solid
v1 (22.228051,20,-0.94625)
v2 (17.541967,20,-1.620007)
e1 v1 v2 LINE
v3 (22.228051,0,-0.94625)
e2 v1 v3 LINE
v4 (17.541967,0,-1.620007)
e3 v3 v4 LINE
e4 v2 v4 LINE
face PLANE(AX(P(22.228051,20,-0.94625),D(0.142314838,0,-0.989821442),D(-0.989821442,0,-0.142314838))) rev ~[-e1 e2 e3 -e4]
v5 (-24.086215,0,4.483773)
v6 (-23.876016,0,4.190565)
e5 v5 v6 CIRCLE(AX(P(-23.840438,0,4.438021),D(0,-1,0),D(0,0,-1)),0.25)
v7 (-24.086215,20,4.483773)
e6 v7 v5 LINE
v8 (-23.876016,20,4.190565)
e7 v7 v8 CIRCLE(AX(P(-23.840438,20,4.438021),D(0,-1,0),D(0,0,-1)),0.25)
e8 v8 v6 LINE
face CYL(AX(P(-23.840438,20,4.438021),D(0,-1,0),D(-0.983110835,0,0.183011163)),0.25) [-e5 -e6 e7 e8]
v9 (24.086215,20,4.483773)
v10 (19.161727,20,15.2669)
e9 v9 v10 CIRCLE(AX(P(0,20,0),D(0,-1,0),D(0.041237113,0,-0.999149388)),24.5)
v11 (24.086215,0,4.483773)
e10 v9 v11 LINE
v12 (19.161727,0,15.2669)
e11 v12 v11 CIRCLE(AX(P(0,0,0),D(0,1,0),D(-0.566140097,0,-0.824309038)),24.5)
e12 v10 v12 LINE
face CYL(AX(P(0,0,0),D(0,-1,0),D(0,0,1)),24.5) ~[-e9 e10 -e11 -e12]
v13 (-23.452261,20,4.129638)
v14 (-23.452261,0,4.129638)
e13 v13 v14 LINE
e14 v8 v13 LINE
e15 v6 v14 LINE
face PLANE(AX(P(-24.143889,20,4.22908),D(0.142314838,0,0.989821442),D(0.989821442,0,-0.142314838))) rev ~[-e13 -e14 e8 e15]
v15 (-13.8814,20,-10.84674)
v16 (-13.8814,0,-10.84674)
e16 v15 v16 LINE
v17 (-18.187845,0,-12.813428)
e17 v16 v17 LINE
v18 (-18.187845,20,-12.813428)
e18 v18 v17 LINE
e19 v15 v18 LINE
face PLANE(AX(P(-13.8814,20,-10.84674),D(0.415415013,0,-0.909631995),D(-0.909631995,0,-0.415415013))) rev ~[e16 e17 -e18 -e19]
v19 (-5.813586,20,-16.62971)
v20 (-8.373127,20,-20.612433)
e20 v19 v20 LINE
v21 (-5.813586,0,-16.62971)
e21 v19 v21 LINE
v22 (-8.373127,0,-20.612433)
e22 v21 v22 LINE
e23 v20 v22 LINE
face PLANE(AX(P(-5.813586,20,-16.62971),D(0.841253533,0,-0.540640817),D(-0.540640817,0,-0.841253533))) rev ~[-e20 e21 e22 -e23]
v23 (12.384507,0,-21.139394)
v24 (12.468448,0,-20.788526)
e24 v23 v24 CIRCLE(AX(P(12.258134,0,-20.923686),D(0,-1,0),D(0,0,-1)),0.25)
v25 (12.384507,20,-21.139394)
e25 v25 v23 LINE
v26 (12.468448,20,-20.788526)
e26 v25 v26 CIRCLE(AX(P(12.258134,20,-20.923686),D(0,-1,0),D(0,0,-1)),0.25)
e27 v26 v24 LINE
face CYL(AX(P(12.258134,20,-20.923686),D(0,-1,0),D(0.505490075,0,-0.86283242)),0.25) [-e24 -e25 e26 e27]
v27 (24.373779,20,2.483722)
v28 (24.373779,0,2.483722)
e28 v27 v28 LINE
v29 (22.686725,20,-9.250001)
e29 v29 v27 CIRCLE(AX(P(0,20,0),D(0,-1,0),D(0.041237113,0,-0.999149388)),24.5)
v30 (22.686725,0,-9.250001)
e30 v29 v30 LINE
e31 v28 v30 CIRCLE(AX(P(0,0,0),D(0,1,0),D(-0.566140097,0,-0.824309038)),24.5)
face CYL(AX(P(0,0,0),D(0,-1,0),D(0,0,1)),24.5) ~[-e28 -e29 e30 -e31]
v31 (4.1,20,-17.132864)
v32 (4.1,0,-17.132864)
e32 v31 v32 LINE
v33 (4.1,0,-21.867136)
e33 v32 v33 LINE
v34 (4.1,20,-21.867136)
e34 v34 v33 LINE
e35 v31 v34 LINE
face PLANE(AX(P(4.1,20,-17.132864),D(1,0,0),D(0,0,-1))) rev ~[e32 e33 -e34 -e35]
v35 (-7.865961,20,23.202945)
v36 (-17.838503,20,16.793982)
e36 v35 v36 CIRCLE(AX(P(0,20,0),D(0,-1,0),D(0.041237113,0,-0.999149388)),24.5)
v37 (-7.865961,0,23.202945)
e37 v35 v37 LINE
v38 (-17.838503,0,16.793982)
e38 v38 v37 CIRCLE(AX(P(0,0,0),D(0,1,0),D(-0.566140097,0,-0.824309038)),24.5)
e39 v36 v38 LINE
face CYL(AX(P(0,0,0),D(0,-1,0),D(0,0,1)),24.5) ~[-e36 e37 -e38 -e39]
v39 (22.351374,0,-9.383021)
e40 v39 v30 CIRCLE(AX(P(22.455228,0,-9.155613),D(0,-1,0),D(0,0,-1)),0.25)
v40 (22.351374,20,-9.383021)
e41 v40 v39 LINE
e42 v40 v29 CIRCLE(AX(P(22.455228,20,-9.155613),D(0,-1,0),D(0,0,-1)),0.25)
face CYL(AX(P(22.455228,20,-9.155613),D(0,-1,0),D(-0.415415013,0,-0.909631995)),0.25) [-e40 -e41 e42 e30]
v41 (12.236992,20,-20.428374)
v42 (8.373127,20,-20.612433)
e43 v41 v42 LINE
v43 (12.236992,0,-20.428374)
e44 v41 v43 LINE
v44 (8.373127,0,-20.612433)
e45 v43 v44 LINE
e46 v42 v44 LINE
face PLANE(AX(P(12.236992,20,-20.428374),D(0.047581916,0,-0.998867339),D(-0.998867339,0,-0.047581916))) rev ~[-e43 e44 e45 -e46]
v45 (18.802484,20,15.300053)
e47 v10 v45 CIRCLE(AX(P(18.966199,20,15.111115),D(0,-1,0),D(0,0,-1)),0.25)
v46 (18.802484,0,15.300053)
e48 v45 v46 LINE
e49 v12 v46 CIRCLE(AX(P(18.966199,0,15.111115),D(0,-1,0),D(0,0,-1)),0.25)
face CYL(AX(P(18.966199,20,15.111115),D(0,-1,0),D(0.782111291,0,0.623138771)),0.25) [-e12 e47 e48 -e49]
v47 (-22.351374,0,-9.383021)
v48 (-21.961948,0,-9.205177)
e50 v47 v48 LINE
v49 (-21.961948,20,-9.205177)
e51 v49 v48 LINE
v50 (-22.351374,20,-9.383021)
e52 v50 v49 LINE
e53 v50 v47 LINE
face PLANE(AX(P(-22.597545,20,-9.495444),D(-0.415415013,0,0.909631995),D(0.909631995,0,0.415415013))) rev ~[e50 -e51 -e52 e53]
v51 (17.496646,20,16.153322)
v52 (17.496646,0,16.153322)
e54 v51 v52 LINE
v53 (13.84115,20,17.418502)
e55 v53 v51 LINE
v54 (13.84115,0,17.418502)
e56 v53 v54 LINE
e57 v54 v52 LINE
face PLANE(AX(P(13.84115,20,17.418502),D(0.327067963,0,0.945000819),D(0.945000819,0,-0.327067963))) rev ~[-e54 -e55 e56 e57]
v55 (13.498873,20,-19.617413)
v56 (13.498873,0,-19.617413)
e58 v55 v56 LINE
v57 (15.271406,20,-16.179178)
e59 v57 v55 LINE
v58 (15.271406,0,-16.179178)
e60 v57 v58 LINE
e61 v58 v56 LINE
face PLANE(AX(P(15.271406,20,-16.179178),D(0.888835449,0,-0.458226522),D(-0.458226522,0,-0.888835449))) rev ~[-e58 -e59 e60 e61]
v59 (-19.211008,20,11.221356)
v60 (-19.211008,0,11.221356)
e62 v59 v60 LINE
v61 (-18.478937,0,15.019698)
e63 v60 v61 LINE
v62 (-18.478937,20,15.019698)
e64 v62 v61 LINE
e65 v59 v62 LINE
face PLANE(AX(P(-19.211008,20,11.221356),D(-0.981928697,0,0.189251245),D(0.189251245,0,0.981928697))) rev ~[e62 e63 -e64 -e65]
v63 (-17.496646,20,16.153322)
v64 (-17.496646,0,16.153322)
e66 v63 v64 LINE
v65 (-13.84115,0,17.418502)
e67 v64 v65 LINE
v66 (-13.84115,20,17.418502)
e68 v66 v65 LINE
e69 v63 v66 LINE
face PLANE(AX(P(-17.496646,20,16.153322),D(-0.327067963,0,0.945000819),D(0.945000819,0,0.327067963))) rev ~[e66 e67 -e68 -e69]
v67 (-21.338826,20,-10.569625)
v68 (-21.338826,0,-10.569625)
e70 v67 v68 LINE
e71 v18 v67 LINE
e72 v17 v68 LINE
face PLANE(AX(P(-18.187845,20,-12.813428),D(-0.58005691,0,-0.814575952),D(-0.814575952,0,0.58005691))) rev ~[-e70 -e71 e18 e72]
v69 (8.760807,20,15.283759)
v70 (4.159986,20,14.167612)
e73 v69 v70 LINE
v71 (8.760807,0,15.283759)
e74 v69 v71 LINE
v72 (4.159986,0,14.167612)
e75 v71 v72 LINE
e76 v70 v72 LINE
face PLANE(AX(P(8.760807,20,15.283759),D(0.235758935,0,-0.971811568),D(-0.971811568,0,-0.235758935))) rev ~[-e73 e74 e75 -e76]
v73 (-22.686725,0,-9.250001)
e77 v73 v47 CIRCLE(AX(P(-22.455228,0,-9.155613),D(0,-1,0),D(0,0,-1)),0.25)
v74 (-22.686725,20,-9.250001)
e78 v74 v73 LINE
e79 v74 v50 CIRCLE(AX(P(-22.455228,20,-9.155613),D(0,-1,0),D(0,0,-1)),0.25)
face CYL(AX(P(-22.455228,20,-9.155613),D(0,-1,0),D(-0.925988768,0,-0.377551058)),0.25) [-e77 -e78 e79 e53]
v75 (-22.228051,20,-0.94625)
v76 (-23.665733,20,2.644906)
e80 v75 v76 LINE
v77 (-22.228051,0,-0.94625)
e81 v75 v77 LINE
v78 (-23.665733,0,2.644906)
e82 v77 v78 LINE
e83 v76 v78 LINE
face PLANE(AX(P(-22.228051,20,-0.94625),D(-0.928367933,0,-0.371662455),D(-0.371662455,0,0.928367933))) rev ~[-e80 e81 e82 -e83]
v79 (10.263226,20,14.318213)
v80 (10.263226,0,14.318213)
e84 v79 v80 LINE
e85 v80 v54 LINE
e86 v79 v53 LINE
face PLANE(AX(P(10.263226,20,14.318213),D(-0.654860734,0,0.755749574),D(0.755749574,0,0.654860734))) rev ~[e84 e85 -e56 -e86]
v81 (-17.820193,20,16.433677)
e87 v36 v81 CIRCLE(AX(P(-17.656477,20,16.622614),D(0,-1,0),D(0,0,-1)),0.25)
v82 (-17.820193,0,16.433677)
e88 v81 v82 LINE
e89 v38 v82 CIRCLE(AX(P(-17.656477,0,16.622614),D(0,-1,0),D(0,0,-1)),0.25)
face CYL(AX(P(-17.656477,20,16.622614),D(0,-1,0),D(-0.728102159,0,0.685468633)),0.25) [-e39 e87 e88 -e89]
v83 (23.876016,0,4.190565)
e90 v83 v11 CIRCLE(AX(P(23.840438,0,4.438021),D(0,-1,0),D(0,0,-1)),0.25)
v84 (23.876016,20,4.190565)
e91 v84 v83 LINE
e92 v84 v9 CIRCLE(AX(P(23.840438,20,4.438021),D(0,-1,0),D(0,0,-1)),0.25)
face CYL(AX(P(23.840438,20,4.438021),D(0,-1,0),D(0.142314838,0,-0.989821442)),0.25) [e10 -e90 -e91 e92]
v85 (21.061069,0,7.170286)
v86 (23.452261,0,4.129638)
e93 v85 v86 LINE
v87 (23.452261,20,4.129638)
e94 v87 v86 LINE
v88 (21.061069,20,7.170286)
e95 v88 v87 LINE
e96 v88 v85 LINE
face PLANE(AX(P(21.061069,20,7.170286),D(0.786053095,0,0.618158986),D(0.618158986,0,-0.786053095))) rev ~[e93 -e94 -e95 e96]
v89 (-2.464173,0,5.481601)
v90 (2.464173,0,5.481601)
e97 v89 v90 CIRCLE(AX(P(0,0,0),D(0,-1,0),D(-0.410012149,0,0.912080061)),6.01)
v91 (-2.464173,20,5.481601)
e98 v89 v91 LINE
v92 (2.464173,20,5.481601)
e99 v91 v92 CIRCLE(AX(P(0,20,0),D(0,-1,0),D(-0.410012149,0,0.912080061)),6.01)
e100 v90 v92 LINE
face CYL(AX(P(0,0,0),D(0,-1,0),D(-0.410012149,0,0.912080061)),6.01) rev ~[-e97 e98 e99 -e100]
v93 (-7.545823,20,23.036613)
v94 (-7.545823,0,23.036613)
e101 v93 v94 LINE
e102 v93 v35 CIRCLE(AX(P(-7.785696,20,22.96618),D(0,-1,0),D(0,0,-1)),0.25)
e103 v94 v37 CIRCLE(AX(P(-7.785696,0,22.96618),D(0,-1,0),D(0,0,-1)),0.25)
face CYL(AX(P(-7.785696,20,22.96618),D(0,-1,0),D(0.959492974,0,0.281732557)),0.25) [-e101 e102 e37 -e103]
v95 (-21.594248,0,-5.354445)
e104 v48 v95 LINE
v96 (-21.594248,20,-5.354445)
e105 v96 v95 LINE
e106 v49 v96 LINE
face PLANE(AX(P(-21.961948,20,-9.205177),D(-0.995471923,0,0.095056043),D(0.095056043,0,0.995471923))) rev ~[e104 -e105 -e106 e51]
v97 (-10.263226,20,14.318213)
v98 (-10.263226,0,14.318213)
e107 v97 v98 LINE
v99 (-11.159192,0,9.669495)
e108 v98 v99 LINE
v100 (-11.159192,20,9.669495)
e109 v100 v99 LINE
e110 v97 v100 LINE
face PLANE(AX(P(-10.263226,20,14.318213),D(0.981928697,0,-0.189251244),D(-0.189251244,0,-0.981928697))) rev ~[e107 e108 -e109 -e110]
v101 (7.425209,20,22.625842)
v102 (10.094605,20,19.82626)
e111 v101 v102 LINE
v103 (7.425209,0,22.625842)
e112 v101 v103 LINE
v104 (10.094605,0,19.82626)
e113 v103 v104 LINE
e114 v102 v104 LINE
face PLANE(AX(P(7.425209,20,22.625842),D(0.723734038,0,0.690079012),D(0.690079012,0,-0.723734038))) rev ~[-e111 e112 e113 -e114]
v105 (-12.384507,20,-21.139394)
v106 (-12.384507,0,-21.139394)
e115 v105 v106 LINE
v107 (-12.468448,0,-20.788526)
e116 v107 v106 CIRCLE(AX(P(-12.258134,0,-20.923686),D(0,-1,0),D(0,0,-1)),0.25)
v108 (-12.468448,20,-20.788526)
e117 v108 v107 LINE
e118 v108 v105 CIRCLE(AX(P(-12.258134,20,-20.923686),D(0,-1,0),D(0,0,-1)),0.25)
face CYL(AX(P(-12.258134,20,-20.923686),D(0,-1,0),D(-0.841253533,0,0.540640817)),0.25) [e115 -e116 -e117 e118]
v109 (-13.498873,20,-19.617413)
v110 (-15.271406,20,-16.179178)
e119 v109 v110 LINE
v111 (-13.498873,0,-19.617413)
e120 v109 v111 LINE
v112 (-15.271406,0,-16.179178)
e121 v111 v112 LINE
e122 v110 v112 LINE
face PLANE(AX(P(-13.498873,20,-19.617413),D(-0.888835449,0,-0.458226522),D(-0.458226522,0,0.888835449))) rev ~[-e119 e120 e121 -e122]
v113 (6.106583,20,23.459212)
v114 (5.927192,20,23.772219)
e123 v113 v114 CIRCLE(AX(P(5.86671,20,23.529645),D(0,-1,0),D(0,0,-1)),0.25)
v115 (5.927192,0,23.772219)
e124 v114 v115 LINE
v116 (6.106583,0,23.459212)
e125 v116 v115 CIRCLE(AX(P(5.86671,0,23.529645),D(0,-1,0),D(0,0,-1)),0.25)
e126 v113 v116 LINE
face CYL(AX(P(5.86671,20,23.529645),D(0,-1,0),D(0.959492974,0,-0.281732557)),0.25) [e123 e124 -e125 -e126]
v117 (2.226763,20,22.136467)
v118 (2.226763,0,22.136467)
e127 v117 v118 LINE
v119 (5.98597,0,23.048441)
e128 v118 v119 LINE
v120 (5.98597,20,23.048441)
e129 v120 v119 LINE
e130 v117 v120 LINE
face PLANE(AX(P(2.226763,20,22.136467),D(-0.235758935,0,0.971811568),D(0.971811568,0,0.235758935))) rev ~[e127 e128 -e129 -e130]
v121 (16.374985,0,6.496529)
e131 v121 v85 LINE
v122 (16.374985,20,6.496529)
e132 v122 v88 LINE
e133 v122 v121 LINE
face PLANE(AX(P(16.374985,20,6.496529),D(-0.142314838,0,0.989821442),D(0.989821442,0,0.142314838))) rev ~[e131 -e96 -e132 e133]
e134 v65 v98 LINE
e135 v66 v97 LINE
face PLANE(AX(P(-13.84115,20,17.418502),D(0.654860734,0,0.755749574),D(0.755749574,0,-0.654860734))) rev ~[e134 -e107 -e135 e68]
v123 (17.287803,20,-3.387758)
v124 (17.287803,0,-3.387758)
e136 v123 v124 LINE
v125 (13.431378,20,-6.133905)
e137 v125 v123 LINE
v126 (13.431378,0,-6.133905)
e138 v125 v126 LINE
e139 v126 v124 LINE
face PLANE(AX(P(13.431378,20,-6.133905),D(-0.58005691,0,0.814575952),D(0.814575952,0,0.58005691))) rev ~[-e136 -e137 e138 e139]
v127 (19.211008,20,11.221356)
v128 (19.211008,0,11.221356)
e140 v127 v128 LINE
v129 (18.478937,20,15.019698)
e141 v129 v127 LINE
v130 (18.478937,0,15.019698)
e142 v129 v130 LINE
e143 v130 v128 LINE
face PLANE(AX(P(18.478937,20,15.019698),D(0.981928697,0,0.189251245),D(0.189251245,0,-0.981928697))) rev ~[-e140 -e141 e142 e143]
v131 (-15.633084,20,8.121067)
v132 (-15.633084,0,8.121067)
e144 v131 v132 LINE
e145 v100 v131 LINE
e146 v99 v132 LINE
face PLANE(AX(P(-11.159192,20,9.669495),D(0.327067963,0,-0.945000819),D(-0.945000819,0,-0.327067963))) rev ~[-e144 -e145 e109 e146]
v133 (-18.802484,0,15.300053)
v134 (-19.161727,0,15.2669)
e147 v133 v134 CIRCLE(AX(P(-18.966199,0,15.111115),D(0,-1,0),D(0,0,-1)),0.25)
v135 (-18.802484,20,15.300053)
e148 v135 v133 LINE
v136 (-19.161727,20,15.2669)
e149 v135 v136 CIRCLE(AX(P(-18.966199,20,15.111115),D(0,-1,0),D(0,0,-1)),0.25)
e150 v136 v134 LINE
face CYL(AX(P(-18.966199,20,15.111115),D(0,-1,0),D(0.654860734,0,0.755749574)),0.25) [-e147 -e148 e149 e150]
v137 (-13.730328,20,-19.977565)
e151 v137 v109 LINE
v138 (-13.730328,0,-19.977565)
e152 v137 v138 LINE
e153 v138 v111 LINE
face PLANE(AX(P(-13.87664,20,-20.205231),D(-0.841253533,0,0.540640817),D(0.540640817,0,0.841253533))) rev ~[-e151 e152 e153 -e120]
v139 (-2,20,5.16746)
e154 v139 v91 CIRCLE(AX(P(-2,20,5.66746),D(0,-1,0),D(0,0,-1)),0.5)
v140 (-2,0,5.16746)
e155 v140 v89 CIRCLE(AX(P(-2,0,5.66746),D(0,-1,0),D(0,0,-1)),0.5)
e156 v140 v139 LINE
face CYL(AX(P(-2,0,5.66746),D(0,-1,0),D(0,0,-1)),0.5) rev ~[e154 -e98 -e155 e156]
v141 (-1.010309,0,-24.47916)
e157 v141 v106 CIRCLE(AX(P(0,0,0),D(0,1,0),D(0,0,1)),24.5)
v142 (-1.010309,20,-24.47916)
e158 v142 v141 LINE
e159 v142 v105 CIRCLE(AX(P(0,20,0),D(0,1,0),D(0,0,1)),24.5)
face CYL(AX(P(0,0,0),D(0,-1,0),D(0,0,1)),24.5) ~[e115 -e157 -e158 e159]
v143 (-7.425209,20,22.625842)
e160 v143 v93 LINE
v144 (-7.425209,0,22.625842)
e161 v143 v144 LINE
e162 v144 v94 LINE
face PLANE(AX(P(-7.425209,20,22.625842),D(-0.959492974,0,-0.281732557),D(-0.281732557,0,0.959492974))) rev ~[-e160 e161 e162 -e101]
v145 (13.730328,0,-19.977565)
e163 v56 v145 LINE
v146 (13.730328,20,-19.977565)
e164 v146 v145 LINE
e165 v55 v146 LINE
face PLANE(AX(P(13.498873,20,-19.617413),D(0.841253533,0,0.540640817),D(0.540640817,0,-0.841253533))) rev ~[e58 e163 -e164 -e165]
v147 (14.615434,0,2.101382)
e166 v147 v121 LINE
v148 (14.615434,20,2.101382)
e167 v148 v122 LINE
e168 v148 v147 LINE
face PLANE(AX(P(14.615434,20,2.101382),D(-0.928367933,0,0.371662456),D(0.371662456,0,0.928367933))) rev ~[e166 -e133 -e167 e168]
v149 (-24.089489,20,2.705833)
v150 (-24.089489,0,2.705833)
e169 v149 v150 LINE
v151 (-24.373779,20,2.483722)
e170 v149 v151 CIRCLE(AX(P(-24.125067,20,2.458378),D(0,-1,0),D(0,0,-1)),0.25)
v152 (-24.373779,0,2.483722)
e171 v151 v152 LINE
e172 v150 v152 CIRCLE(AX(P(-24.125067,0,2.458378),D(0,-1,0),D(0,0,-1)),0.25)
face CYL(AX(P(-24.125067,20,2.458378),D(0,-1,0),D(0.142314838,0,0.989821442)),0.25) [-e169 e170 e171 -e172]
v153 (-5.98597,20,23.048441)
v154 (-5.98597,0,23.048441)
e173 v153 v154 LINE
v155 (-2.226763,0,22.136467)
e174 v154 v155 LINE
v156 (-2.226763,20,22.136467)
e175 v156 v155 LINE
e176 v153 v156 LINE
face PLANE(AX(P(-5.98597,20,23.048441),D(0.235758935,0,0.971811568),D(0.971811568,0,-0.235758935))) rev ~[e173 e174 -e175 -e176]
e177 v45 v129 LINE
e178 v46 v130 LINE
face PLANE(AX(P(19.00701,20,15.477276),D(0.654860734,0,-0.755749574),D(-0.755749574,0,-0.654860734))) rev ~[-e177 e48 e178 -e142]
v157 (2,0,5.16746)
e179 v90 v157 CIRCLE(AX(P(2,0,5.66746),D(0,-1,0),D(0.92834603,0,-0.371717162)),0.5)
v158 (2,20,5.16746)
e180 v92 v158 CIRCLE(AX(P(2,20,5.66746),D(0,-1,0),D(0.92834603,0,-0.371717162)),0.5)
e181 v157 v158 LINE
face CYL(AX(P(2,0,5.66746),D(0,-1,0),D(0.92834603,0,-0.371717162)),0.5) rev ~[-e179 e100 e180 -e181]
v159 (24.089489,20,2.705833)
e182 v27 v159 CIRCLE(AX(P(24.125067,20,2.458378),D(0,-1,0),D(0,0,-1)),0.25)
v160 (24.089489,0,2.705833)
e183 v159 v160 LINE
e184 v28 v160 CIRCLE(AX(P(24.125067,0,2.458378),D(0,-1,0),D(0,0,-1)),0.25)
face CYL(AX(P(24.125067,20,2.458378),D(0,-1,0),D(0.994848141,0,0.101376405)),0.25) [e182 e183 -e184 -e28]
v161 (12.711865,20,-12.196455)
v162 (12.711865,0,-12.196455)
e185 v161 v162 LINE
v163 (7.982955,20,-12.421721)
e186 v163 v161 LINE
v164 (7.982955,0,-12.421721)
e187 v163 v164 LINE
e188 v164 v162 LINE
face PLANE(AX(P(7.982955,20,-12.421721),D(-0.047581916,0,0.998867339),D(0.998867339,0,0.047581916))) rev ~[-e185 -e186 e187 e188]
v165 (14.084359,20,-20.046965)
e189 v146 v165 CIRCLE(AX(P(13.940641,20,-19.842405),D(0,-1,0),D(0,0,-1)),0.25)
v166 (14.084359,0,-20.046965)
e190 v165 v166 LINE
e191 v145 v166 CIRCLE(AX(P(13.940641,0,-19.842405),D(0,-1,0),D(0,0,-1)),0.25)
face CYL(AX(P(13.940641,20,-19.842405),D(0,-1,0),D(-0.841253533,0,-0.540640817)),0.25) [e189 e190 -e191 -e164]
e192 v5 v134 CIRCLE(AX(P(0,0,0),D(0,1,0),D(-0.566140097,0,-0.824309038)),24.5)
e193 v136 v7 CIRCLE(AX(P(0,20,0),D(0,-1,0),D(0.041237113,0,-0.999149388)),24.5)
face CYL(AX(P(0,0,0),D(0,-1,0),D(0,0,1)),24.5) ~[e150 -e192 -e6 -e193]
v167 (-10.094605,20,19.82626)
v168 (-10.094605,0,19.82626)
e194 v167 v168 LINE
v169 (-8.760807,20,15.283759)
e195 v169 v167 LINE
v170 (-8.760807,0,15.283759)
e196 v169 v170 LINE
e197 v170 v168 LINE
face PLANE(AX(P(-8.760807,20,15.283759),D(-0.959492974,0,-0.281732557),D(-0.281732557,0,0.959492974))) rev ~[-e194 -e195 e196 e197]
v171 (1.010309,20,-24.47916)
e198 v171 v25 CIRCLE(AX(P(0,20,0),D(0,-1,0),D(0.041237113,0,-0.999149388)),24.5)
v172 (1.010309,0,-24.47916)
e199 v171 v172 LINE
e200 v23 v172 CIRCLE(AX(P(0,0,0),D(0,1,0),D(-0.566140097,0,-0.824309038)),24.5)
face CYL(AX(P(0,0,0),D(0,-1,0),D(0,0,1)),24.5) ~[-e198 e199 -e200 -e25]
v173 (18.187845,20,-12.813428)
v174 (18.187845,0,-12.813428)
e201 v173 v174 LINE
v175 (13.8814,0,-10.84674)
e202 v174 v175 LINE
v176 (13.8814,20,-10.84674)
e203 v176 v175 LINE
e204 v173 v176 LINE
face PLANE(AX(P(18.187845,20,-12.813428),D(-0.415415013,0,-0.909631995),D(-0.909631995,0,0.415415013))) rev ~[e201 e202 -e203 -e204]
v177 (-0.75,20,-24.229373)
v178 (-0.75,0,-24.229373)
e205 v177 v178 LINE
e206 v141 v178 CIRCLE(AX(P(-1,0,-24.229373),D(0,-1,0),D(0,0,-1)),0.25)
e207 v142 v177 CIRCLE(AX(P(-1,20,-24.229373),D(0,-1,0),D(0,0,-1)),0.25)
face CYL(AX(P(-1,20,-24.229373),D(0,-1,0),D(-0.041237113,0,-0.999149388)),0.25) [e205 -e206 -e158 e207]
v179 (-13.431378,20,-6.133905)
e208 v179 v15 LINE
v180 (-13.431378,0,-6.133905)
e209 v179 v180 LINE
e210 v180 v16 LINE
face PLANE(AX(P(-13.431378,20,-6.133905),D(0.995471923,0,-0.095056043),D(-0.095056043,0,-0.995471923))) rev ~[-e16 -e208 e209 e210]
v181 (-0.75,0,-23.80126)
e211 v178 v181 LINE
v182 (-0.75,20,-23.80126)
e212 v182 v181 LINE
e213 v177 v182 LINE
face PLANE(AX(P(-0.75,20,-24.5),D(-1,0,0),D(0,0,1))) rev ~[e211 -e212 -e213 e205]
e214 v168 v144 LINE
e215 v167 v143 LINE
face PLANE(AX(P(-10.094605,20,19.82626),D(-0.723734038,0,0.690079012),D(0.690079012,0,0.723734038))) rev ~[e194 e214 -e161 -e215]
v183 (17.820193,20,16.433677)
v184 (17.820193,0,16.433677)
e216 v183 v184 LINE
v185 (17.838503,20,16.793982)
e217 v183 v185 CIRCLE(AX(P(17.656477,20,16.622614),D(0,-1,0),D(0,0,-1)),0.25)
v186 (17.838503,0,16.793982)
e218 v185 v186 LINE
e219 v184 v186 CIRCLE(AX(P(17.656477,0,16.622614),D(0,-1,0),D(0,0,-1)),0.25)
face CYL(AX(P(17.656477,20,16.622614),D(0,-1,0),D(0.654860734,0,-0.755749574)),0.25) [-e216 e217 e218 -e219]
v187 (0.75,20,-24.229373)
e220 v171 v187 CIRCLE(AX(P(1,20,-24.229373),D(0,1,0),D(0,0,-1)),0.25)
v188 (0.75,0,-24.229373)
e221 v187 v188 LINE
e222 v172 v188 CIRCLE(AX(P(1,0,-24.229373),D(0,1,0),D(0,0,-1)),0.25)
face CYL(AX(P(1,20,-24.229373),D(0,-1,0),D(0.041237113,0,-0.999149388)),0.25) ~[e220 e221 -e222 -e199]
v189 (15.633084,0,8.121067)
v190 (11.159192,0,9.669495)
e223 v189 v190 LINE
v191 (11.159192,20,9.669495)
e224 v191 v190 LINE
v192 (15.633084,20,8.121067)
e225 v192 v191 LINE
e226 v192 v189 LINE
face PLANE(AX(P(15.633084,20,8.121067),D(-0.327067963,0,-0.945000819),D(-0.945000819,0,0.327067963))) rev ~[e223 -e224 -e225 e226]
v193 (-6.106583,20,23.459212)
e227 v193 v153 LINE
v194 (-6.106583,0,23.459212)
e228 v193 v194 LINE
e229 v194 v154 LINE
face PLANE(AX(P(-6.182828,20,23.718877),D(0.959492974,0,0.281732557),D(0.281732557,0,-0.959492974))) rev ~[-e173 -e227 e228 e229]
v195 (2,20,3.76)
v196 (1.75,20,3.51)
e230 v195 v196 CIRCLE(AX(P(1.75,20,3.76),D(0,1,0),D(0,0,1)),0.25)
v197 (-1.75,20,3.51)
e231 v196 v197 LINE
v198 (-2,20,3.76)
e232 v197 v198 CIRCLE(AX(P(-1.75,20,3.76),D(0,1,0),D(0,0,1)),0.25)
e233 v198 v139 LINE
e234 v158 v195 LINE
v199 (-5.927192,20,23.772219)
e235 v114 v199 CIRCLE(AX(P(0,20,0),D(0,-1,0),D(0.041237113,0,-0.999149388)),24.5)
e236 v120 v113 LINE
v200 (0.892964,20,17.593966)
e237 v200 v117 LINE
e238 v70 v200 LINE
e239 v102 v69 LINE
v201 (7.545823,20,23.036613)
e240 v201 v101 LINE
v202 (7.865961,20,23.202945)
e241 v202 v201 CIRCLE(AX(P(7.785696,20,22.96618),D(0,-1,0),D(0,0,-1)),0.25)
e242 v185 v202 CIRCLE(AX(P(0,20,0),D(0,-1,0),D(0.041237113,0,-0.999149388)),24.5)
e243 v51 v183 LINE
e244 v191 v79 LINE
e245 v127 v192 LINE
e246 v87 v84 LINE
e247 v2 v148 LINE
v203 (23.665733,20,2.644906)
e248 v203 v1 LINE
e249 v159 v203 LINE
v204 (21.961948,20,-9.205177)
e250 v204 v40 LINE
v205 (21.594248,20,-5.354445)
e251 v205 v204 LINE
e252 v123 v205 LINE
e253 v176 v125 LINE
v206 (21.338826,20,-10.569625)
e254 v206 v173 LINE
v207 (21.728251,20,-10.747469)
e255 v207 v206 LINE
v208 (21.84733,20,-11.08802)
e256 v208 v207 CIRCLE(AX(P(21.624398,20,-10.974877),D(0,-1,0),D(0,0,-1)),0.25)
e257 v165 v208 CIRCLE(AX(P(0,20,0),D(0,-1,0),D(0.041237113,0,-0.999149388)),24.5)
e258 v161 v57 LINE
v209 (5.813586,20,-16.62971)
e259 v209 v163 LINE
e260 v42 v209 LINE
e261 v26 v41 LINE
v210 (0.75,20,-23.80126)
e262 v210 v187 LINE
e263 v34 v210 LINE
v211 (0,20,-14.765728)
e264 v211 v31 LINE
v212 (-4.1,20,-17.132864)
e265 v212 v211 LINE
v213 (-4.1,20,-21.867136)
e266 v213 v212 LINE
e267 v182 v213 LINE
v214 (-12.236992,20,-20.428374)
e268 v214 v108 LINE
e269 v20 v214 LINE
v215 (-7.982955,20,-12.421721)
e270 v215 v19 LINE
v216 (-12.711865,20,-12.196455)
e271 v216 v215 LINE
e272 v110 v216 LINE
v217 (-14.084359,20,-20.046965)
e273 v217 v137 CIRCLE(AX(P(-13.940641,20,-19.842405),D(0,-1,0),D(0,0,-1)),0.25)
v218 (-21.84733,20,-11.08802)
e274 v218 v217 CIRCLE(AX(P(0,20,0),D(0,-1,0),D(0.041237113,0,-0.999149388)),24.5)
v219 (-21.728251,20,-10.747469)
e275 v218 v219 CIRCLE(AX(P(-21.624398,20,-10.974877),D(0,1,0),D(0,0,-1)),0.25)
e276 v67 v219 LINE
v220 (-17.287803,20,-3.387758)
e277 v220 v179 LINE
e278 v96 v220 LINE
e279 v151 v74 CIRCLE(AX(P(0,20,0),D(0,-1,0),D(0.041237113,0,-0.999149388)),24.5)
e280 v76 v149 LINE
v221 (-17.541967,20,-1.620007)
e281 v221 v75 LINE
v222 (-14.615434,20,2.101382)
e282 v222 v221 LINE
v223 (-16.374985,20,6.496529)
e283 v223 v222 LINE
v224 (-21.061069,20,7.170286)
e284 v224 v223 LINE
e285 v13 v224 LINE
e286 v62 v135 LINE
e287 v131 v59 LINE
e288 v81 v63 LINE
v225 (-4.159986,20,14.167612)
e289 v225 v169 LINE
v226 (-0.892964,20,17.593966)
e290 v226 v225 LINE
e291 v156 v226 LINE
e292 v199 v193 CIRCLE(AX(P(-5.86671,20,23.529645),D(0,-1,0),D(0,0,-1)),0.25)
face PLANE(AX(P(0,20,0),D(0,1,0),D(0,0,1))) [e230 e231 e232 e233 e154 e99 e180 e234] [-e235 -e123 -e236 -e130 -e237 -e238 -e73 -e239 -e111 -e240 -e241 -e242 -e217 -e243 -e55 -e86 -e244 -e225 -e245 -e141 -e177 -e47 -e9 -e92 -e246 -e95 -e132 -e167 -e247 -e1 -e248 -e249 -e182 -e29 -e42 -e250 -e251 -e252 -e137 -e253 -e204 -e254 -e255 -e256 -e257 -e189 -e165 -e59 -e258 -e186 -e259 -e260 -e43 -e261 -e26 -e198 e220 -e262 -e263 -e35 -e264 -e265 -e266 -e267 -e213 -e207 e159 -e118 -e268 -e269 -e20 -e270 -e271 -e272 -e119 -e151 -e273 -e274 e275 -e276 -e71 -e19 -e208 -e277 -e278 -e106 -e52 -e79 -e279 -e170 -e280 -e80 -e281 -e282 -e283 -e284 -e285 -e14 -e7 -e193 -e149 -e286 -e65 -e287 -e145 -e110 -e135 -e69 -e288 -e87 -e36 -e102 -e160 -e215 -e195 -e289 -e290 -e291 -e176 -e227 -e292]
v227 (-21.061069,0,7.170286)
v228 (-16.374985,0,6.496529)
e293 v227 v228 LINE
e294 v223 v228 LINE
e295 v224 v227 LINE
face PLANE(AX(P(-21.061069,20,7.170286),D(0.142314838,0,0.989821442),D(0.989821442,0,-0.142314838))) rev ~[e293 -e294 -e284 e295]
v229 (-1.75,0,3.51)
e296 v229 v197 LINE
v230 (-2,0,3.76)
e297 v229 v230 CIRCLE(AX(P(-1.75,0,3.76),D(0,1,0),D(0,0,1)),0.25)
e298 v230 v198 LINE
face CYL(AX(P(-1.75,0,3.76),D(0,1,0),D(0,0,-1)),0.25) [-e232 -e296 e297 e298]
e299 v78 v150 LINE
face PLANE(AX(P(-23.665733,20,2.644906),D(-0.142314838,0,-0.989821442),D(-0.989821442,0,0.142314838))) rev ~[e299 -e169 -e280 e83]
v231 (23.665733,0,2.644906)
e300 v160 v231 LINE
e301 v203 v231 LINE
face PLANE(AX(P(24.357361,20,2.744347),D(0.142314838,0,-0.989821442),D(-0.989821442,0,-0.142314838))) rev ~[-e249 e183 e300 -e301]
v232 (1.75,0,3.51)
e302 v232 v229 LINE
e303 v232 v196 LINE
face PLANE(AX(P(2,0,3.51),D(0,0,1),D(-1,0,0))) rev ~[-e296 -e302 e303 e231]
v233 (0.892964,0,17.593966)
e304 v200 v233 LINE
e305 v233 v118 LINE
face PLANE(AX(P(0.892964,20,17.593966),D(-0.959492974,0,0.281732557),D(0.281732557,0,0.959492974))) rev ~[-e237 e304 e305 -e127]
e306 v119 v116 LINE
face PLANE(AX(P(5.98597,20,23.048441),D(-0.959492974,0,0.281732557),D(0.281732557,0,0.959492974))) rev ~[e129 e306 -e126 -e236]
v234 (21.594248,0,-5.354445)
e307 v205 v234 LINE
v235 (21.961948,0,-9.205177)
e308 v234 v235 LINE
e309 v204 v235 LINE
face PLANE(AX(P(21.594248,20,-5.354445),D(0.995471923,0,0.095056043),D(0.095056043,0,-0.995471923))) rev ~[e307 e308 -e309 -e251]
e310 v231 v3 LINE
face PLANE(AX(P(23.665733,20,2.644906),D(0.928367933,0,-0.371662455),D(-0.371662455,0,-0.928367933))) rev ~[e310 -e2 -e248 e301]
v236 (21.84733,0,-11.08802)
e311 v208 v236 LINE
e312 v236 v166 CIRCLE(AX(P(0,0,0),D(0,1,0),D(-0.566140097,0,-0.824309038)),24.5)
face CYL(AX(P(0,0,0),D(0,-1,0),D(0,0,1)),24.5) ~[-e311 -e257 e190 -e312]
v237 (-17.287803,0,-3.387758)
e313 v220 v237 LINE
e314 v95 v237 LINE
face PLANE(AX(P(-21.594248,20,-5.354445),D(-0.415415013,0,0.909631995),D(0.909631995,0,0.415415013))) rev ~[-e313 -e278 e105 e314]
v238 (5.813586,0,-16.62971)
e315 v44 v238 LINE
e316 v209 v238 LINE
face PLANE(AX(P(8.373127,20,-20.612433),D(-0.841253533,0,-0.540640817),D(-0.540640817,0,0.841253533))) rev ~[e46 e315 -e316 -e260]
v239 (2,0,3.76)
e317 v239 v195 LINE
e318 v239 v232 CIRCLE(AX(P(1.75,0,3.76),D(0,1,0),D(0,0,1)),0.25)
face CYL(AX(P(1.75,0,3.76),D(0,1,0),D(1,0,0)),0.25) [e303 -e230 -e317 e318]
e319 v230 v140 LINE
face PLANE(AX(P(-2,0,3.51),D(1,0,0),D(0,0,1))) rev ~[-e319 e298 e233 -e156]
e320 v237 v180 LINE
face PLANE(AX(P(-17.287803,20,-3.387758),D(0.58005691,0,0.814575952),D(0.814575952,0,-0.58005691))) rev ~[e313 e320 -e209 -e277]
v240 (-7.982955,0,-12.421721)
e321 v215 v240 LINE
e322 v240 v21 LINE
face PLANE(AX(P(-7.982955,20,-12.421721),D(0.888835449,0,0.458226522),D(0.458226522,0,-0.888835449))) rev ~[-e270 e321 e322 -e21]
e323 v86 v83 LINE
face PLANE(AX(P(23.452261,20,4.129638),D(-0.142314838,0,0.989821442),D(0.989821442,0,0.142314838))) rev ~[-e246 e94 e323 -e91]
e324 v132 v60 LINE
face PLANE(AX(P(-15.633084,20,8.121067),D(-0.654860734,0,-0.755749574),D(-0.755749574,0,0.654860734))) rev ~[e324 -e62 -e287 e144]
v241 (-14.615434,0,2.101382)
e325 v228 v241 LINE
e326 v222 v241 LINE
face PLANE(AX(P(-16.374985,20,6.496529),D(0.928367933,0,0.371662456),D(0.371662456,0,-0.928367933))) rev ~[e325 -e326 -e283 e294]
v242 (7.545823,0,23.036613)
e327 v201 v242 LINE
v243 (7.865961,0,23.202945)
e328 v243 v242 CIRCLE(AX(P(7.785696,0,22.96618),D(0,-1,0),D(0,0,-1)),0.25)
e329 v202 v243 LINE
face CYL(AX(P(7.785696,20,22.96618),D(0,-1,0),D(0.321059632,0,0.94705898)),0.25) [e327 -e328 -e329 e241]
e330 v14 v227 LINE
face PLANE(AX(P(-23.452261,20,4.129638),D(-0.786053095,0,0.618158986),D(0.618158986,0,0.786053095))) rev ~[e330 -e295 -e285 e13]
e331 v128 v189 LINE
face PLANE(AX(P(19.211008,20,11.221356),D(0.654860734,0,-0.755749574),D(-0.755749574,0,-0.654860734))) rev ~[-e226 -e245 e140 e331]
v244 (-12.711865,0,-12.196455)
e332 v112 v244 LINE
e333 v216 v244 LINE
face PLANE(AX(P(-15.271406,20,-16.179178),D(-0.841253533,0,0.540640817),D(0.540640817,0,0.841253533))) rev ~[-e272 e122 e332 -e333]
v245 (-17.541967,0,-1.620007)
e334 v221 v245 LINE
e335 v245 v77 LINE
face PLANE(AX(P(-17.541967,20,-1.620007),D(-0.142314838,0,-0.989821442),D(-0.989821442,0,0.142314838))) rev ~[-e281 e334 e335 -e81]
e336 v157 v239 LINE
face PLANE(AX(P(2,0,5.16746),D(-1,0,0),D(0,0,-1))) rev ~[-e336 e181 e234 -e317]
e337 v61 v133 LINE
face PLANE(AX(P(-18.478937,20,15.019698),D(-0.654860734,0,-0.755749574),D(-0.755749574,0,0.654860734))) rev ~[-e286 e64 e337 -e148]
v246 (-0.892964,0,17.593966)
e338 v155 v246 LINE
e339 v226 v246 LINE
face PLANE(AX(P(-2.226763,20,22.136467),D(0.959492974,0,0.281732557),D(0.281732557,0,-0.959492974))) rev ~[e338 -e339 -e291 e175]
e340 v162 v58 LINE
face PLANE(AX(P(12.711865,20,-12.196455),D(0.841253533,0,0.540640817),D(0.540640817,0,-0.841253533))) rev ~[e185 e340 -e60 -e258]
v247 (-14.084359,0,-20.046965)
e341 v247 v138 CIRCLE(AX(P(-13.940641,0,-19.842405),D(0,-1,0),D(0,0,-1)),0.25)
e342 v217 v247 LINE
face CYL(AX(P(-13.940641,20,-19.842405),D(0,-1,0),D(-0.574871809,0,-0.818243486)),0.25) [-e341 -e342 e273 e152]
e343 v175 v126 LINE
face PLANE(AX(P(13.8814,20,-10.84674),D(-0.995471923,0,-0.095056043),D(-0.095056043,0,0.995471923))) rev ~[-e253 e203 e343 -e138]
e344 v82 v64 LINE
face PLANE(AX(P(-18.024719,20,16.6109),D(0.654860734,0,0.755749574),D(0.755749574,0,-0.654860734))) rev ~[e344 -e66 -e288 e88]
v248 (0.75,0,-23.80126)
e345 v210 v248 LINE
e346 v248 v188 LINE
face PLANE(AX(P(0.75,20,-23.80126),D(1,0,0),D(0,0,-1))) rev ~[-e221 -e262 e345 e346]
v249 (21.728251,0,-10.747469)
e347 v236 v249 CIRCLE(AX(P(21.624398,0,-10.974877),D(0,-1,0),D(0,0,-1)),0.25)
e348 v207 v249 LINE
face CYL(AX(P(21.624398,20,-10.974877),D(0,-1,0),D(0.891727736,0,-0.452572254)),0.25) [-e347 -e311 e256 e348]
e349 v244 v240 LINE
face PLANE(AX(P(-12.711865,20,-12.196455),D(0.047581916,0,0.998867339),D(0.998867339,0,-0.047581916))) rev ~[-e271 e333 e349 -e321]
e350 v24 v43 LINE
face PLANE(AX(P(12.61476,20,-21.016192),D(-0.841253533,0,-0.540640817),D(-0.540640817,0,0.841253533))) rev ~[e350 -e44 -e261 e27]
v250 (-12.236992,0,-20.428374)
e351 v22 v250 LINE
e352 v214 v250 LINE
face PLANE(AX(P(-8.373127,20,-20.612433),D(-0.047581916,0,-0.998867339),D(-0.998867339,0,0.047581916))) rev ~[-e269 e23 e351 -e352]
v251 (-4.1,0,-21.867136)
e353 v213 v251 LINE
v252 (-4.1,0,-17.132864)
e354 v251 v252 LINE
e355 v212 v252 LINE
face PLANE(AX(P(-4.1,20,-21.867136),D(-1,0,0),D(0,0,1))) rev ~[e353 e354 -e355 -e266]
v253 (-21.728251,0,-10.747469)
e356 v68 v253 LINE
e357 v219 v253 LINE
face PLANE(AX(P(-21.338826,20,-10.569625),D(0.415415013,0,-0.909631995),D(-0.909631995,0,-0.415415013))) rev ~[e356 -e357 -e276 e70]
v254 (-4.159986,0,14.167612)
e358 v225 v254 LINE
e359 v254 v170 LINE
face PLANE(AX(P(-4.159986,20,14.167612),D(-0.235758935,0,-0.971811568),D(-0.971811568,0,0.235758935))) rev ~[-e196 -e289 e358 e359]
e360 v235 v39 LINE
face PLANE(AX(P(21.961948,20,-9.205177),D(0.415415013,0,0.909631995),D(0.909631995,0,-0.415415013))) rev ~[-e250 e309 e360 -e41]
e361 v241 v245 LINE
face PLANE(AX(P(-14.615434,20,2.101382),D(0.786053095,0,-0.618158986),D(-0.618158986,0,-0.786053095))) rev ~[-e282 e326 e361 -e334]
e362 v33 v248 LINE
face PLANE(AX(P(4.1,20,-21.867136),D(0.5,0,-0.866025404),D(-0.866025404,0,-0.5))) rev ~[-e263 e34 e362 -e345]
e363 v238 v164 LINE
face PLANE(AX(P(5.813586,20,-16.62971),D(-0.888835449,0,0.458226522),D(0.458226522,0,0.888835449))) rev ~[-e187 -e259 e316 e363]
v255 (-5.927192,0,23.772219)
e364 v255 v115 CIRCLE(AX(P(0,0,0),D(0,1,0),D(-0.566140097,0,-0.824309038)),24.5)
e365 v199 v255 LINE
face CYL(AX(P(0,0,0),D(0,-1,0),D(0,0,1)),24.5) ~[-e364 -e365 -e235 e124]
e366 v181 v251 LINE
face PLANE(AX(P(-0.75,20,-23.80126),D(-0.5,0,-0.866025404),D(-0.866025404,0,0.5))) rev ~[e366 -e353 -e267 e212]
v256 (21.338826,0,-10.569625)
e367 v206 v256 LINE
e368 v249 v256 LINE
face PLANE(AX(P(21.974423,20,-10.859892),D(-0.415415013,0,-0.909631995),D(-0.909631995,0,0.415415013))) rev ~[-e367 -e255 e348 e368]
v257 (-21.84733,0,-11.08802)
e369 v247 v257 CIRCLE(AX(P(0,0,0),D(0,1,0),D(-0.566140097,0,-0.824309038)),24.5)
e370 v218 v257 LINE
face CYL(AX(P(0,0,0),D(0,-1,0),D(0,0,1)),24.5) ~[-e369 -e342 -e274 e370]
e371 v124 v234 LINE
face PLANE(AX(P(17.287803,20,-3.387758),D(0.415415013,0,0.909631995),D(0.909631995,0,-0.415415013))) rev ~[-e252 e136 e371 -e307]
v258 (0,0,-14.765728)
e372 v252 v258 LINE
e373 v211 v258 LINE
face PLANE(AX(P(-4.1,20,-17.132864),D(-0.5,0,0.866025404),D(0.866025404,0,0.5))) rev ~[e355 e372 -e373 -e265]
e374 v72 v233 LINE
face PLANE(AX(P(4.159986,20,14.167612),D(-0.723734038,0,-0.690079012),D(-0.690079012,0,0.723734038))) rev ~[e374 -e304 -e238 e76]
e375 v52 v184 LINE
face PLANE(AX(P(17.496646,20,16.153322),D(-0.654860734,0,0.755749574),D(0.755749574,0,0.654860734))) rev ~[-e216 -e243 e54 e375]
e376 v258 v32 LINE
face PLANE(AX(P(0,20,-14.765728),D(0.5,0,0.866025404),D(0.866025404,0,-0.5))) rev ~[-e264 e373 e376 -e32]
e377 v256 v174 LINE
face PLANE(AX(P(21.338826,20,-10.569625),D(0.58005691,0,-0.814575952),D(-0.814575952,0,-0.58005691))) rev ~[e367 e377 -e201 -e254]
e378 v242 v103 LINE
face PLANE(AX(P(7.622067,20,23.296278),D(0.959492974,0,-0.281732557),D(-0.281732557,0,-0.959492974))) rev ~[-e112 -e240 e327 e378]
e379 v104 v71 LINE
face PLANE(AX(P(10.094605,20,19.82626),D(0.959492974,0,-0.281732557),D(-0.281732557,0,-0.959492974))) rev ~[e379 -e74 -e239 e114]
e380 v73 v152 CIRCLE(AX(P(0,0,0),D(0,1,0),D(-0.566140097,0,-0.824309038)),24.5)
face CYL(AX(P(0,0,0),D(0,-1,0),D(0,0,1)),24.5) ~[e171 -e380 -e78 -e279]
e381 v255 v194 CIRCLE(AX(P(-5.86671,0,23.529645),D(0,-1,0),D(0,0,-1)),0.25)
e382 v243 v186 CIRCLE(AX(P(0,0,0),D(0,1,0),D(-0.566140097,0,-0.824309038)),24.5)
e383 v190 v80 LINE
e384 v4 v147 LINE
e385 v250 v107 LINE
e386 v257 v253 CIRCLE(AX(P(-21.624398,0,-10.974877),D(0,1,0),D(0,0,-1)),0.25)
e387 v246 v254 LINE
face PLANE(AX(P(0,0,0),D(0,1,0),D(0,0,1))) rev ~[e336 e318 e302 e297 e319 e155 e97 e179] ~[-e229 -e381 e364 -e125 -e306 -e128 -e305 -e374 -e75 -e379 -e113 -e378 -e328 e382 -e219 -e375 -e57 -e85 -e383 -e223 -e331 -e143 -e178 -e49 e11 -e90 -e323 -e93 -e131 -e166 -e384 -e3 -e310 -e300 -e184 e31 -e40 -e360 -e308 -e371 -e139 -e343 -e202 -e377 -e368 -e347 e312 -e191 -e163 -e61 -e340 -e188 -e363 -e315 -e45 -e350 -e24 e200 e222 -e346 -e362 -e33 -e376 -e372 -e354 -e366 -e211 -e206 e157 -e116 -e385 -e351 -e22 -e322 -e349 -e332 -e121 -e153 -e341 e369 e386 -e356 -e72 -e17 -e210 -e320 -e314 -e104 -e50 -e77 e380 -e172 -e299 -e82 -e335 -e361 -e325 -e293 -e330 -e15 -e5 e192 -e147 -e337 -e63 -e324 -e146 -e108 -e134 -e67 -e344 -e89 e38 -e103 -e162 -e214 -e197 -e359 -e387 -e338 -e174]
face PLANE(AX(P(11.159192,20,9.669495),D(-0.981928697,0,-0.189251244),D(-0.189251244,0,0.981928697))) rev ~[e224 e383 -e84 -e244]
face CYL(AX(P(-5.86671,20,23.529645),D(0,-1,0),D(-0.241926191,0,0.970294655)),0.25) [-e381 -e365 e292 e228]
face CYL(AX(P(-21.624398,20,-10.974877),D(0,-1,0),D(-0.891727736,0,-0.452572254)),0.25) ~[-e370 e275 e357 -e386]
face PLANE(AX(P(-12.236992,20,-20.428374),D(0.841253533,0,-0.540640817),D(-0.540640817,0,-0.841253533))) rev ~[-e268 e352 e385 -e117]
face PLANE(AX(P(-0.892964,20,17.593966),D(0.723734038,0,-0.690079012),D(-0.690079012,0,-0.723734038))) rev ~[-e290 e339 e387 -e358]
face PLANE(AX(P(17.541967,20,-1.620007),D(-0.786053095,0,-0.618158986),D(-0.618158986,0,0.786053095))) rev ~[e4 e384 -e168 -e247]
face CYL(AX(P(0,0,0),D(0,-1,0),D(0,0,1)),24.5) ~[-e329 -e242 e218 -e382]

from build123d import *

# Parameters (mm, degrees)
SKETCH1_R                = 24.5
BOSS_EXTRUDE1_DEPTH      = 20
CUT_EXTRUDE1_DEPTH       = 41.006249512
FILLET1_R                = 0.25
CIRPATTERN1_COUNT        = 11
FILLET1_OF_CIRPATTERN1_R = 0.25
FILLET2_R                = 0.25


with BuildPart() as part:
    # Sketch1 → Boss-Extrude1 (new body)
    with BuildSketch(Plane(origin=(0, 0, 0), x_dir=(1, 0, 0), z_dir=(0, 1, 0))):
        with Locations(Location((0, 0, 0), (0, 0, 270))):
            Circle(SKETCH1_R)
        with BuildLine():
            Line((2, -5.167459748), (2, -3.51))
            Line((2, -3.51), (-2, -3.51))
            Line((-2, -3.51), (-2, -5.167459748))
            ThreePointArc((-2, -5.167459748), (-1.7197584, -6.081542645), (-2.464173015, -5.481601167))
            ThreePointArc((-2.464173015, -5.481601167), (0, 6.01), (2.464173015, -5.481601167))
            ThreePointArc((2.464173015, -5.481601167), (1.7197584, -6.081542645), (2, -5.167459748))
        make_face(mode=Mode.SUBTRACT)
    extrude(amount=BOSS_EXTRUDE1_DEPTH)

    # Sketch3 → Cut-Extrude1 (cut, through all)
    with BuildSketch(Plane(origin=(0, 20, 0), x_dir=(1, 0, 0), z_dir=(0, 1, 0))):
        Polygon((0.75, 23.801259505), (0.75, 24.5), (-0.75, 24.5), (-0.75, 23.801259505), (-4.1, 21.867136104), (-4.1, 17.132863896), (0, 14.765727793), (4.1, 17.132863896), (4.1, 21.867136104), align=None)
    cut_extrude1 = extrude(amount=-CUT_EXTRUDE1_DEPTH, mode=Mode.SUBTRACT)

    # Fillet1
    fillet1_edges = [part.edges().sort_by_distance(p)[0] for p in [
        (0.75, 10, -24.488517717),
        (-0.75, 10, -24.488517717),
    ]]
    fillet(fillet1_edges, radius=FILLET1_R)

    # CirPattern1: Cut-Extrude1 ×11 about axis
    cirpattern1_axis = Axis((0, 0, 0), (0, 1, 0))
    for i in range(1, CIRPATTERN1_COUNT):
        add(cut_extrude1.rotate(cirpattern1_axis, i * 360 / CIRPATTERN1_COUNT), mode=Mode.SUBTRACT)

    # Fillet1 of CirPattern1
    fillet1_of_cirpattern1_edges = [part.edges().sort_by_distance(p)[0] for p in [
        (-12.608552087, 10, -21.006532657),
        (-13.870432387, 10, -20.195571431),
        (-21.963977975, 10, -10.855121903),
        (-22.587100494, 10, -9.490673909),
        (-24.345996045, 10, 2.742713357),
        (-24.132523788, 10, 4.22744552),
        (-18.998332392, 10, 15.469756505),
        (-18.016041291, 10, 16.603380866),
        (-7.61883244, 10, 23.285261267),
        (-6.17959298, 10, 23.707860102),
        (6.17959298, 10, 23.707860102),
        (7.61883244, 10, 23.285261267),
        (18.016041291, 10, 16.603380866),
        (18.998332392, 10, 15.469756505),
        (24.132523788, 10, 4.22744552),
        (24.345996045, 10, 2.742713357),
        (22.587100494, 10, -9.490673909),
        (21.963977975, 10, -10.855121903),
        (13.870432387, 10, -20.195571431),
        (12.608552087, 10, -21.006532657),
    ]]
    fillet(fillet1_of_cirpattern1_edges, radius=FILLET1_OF_CIRPATTERN1_R)

    # Fillet2
    fillet2_edges = [part.edges().sort_by_distance(p)[0] for p in [
        (-2, 10, 3.51),
        (2, 10, 3.51),
    ]]
    fillet(fillet2_edges, radius=FILLET2_R)


solid = part.part
